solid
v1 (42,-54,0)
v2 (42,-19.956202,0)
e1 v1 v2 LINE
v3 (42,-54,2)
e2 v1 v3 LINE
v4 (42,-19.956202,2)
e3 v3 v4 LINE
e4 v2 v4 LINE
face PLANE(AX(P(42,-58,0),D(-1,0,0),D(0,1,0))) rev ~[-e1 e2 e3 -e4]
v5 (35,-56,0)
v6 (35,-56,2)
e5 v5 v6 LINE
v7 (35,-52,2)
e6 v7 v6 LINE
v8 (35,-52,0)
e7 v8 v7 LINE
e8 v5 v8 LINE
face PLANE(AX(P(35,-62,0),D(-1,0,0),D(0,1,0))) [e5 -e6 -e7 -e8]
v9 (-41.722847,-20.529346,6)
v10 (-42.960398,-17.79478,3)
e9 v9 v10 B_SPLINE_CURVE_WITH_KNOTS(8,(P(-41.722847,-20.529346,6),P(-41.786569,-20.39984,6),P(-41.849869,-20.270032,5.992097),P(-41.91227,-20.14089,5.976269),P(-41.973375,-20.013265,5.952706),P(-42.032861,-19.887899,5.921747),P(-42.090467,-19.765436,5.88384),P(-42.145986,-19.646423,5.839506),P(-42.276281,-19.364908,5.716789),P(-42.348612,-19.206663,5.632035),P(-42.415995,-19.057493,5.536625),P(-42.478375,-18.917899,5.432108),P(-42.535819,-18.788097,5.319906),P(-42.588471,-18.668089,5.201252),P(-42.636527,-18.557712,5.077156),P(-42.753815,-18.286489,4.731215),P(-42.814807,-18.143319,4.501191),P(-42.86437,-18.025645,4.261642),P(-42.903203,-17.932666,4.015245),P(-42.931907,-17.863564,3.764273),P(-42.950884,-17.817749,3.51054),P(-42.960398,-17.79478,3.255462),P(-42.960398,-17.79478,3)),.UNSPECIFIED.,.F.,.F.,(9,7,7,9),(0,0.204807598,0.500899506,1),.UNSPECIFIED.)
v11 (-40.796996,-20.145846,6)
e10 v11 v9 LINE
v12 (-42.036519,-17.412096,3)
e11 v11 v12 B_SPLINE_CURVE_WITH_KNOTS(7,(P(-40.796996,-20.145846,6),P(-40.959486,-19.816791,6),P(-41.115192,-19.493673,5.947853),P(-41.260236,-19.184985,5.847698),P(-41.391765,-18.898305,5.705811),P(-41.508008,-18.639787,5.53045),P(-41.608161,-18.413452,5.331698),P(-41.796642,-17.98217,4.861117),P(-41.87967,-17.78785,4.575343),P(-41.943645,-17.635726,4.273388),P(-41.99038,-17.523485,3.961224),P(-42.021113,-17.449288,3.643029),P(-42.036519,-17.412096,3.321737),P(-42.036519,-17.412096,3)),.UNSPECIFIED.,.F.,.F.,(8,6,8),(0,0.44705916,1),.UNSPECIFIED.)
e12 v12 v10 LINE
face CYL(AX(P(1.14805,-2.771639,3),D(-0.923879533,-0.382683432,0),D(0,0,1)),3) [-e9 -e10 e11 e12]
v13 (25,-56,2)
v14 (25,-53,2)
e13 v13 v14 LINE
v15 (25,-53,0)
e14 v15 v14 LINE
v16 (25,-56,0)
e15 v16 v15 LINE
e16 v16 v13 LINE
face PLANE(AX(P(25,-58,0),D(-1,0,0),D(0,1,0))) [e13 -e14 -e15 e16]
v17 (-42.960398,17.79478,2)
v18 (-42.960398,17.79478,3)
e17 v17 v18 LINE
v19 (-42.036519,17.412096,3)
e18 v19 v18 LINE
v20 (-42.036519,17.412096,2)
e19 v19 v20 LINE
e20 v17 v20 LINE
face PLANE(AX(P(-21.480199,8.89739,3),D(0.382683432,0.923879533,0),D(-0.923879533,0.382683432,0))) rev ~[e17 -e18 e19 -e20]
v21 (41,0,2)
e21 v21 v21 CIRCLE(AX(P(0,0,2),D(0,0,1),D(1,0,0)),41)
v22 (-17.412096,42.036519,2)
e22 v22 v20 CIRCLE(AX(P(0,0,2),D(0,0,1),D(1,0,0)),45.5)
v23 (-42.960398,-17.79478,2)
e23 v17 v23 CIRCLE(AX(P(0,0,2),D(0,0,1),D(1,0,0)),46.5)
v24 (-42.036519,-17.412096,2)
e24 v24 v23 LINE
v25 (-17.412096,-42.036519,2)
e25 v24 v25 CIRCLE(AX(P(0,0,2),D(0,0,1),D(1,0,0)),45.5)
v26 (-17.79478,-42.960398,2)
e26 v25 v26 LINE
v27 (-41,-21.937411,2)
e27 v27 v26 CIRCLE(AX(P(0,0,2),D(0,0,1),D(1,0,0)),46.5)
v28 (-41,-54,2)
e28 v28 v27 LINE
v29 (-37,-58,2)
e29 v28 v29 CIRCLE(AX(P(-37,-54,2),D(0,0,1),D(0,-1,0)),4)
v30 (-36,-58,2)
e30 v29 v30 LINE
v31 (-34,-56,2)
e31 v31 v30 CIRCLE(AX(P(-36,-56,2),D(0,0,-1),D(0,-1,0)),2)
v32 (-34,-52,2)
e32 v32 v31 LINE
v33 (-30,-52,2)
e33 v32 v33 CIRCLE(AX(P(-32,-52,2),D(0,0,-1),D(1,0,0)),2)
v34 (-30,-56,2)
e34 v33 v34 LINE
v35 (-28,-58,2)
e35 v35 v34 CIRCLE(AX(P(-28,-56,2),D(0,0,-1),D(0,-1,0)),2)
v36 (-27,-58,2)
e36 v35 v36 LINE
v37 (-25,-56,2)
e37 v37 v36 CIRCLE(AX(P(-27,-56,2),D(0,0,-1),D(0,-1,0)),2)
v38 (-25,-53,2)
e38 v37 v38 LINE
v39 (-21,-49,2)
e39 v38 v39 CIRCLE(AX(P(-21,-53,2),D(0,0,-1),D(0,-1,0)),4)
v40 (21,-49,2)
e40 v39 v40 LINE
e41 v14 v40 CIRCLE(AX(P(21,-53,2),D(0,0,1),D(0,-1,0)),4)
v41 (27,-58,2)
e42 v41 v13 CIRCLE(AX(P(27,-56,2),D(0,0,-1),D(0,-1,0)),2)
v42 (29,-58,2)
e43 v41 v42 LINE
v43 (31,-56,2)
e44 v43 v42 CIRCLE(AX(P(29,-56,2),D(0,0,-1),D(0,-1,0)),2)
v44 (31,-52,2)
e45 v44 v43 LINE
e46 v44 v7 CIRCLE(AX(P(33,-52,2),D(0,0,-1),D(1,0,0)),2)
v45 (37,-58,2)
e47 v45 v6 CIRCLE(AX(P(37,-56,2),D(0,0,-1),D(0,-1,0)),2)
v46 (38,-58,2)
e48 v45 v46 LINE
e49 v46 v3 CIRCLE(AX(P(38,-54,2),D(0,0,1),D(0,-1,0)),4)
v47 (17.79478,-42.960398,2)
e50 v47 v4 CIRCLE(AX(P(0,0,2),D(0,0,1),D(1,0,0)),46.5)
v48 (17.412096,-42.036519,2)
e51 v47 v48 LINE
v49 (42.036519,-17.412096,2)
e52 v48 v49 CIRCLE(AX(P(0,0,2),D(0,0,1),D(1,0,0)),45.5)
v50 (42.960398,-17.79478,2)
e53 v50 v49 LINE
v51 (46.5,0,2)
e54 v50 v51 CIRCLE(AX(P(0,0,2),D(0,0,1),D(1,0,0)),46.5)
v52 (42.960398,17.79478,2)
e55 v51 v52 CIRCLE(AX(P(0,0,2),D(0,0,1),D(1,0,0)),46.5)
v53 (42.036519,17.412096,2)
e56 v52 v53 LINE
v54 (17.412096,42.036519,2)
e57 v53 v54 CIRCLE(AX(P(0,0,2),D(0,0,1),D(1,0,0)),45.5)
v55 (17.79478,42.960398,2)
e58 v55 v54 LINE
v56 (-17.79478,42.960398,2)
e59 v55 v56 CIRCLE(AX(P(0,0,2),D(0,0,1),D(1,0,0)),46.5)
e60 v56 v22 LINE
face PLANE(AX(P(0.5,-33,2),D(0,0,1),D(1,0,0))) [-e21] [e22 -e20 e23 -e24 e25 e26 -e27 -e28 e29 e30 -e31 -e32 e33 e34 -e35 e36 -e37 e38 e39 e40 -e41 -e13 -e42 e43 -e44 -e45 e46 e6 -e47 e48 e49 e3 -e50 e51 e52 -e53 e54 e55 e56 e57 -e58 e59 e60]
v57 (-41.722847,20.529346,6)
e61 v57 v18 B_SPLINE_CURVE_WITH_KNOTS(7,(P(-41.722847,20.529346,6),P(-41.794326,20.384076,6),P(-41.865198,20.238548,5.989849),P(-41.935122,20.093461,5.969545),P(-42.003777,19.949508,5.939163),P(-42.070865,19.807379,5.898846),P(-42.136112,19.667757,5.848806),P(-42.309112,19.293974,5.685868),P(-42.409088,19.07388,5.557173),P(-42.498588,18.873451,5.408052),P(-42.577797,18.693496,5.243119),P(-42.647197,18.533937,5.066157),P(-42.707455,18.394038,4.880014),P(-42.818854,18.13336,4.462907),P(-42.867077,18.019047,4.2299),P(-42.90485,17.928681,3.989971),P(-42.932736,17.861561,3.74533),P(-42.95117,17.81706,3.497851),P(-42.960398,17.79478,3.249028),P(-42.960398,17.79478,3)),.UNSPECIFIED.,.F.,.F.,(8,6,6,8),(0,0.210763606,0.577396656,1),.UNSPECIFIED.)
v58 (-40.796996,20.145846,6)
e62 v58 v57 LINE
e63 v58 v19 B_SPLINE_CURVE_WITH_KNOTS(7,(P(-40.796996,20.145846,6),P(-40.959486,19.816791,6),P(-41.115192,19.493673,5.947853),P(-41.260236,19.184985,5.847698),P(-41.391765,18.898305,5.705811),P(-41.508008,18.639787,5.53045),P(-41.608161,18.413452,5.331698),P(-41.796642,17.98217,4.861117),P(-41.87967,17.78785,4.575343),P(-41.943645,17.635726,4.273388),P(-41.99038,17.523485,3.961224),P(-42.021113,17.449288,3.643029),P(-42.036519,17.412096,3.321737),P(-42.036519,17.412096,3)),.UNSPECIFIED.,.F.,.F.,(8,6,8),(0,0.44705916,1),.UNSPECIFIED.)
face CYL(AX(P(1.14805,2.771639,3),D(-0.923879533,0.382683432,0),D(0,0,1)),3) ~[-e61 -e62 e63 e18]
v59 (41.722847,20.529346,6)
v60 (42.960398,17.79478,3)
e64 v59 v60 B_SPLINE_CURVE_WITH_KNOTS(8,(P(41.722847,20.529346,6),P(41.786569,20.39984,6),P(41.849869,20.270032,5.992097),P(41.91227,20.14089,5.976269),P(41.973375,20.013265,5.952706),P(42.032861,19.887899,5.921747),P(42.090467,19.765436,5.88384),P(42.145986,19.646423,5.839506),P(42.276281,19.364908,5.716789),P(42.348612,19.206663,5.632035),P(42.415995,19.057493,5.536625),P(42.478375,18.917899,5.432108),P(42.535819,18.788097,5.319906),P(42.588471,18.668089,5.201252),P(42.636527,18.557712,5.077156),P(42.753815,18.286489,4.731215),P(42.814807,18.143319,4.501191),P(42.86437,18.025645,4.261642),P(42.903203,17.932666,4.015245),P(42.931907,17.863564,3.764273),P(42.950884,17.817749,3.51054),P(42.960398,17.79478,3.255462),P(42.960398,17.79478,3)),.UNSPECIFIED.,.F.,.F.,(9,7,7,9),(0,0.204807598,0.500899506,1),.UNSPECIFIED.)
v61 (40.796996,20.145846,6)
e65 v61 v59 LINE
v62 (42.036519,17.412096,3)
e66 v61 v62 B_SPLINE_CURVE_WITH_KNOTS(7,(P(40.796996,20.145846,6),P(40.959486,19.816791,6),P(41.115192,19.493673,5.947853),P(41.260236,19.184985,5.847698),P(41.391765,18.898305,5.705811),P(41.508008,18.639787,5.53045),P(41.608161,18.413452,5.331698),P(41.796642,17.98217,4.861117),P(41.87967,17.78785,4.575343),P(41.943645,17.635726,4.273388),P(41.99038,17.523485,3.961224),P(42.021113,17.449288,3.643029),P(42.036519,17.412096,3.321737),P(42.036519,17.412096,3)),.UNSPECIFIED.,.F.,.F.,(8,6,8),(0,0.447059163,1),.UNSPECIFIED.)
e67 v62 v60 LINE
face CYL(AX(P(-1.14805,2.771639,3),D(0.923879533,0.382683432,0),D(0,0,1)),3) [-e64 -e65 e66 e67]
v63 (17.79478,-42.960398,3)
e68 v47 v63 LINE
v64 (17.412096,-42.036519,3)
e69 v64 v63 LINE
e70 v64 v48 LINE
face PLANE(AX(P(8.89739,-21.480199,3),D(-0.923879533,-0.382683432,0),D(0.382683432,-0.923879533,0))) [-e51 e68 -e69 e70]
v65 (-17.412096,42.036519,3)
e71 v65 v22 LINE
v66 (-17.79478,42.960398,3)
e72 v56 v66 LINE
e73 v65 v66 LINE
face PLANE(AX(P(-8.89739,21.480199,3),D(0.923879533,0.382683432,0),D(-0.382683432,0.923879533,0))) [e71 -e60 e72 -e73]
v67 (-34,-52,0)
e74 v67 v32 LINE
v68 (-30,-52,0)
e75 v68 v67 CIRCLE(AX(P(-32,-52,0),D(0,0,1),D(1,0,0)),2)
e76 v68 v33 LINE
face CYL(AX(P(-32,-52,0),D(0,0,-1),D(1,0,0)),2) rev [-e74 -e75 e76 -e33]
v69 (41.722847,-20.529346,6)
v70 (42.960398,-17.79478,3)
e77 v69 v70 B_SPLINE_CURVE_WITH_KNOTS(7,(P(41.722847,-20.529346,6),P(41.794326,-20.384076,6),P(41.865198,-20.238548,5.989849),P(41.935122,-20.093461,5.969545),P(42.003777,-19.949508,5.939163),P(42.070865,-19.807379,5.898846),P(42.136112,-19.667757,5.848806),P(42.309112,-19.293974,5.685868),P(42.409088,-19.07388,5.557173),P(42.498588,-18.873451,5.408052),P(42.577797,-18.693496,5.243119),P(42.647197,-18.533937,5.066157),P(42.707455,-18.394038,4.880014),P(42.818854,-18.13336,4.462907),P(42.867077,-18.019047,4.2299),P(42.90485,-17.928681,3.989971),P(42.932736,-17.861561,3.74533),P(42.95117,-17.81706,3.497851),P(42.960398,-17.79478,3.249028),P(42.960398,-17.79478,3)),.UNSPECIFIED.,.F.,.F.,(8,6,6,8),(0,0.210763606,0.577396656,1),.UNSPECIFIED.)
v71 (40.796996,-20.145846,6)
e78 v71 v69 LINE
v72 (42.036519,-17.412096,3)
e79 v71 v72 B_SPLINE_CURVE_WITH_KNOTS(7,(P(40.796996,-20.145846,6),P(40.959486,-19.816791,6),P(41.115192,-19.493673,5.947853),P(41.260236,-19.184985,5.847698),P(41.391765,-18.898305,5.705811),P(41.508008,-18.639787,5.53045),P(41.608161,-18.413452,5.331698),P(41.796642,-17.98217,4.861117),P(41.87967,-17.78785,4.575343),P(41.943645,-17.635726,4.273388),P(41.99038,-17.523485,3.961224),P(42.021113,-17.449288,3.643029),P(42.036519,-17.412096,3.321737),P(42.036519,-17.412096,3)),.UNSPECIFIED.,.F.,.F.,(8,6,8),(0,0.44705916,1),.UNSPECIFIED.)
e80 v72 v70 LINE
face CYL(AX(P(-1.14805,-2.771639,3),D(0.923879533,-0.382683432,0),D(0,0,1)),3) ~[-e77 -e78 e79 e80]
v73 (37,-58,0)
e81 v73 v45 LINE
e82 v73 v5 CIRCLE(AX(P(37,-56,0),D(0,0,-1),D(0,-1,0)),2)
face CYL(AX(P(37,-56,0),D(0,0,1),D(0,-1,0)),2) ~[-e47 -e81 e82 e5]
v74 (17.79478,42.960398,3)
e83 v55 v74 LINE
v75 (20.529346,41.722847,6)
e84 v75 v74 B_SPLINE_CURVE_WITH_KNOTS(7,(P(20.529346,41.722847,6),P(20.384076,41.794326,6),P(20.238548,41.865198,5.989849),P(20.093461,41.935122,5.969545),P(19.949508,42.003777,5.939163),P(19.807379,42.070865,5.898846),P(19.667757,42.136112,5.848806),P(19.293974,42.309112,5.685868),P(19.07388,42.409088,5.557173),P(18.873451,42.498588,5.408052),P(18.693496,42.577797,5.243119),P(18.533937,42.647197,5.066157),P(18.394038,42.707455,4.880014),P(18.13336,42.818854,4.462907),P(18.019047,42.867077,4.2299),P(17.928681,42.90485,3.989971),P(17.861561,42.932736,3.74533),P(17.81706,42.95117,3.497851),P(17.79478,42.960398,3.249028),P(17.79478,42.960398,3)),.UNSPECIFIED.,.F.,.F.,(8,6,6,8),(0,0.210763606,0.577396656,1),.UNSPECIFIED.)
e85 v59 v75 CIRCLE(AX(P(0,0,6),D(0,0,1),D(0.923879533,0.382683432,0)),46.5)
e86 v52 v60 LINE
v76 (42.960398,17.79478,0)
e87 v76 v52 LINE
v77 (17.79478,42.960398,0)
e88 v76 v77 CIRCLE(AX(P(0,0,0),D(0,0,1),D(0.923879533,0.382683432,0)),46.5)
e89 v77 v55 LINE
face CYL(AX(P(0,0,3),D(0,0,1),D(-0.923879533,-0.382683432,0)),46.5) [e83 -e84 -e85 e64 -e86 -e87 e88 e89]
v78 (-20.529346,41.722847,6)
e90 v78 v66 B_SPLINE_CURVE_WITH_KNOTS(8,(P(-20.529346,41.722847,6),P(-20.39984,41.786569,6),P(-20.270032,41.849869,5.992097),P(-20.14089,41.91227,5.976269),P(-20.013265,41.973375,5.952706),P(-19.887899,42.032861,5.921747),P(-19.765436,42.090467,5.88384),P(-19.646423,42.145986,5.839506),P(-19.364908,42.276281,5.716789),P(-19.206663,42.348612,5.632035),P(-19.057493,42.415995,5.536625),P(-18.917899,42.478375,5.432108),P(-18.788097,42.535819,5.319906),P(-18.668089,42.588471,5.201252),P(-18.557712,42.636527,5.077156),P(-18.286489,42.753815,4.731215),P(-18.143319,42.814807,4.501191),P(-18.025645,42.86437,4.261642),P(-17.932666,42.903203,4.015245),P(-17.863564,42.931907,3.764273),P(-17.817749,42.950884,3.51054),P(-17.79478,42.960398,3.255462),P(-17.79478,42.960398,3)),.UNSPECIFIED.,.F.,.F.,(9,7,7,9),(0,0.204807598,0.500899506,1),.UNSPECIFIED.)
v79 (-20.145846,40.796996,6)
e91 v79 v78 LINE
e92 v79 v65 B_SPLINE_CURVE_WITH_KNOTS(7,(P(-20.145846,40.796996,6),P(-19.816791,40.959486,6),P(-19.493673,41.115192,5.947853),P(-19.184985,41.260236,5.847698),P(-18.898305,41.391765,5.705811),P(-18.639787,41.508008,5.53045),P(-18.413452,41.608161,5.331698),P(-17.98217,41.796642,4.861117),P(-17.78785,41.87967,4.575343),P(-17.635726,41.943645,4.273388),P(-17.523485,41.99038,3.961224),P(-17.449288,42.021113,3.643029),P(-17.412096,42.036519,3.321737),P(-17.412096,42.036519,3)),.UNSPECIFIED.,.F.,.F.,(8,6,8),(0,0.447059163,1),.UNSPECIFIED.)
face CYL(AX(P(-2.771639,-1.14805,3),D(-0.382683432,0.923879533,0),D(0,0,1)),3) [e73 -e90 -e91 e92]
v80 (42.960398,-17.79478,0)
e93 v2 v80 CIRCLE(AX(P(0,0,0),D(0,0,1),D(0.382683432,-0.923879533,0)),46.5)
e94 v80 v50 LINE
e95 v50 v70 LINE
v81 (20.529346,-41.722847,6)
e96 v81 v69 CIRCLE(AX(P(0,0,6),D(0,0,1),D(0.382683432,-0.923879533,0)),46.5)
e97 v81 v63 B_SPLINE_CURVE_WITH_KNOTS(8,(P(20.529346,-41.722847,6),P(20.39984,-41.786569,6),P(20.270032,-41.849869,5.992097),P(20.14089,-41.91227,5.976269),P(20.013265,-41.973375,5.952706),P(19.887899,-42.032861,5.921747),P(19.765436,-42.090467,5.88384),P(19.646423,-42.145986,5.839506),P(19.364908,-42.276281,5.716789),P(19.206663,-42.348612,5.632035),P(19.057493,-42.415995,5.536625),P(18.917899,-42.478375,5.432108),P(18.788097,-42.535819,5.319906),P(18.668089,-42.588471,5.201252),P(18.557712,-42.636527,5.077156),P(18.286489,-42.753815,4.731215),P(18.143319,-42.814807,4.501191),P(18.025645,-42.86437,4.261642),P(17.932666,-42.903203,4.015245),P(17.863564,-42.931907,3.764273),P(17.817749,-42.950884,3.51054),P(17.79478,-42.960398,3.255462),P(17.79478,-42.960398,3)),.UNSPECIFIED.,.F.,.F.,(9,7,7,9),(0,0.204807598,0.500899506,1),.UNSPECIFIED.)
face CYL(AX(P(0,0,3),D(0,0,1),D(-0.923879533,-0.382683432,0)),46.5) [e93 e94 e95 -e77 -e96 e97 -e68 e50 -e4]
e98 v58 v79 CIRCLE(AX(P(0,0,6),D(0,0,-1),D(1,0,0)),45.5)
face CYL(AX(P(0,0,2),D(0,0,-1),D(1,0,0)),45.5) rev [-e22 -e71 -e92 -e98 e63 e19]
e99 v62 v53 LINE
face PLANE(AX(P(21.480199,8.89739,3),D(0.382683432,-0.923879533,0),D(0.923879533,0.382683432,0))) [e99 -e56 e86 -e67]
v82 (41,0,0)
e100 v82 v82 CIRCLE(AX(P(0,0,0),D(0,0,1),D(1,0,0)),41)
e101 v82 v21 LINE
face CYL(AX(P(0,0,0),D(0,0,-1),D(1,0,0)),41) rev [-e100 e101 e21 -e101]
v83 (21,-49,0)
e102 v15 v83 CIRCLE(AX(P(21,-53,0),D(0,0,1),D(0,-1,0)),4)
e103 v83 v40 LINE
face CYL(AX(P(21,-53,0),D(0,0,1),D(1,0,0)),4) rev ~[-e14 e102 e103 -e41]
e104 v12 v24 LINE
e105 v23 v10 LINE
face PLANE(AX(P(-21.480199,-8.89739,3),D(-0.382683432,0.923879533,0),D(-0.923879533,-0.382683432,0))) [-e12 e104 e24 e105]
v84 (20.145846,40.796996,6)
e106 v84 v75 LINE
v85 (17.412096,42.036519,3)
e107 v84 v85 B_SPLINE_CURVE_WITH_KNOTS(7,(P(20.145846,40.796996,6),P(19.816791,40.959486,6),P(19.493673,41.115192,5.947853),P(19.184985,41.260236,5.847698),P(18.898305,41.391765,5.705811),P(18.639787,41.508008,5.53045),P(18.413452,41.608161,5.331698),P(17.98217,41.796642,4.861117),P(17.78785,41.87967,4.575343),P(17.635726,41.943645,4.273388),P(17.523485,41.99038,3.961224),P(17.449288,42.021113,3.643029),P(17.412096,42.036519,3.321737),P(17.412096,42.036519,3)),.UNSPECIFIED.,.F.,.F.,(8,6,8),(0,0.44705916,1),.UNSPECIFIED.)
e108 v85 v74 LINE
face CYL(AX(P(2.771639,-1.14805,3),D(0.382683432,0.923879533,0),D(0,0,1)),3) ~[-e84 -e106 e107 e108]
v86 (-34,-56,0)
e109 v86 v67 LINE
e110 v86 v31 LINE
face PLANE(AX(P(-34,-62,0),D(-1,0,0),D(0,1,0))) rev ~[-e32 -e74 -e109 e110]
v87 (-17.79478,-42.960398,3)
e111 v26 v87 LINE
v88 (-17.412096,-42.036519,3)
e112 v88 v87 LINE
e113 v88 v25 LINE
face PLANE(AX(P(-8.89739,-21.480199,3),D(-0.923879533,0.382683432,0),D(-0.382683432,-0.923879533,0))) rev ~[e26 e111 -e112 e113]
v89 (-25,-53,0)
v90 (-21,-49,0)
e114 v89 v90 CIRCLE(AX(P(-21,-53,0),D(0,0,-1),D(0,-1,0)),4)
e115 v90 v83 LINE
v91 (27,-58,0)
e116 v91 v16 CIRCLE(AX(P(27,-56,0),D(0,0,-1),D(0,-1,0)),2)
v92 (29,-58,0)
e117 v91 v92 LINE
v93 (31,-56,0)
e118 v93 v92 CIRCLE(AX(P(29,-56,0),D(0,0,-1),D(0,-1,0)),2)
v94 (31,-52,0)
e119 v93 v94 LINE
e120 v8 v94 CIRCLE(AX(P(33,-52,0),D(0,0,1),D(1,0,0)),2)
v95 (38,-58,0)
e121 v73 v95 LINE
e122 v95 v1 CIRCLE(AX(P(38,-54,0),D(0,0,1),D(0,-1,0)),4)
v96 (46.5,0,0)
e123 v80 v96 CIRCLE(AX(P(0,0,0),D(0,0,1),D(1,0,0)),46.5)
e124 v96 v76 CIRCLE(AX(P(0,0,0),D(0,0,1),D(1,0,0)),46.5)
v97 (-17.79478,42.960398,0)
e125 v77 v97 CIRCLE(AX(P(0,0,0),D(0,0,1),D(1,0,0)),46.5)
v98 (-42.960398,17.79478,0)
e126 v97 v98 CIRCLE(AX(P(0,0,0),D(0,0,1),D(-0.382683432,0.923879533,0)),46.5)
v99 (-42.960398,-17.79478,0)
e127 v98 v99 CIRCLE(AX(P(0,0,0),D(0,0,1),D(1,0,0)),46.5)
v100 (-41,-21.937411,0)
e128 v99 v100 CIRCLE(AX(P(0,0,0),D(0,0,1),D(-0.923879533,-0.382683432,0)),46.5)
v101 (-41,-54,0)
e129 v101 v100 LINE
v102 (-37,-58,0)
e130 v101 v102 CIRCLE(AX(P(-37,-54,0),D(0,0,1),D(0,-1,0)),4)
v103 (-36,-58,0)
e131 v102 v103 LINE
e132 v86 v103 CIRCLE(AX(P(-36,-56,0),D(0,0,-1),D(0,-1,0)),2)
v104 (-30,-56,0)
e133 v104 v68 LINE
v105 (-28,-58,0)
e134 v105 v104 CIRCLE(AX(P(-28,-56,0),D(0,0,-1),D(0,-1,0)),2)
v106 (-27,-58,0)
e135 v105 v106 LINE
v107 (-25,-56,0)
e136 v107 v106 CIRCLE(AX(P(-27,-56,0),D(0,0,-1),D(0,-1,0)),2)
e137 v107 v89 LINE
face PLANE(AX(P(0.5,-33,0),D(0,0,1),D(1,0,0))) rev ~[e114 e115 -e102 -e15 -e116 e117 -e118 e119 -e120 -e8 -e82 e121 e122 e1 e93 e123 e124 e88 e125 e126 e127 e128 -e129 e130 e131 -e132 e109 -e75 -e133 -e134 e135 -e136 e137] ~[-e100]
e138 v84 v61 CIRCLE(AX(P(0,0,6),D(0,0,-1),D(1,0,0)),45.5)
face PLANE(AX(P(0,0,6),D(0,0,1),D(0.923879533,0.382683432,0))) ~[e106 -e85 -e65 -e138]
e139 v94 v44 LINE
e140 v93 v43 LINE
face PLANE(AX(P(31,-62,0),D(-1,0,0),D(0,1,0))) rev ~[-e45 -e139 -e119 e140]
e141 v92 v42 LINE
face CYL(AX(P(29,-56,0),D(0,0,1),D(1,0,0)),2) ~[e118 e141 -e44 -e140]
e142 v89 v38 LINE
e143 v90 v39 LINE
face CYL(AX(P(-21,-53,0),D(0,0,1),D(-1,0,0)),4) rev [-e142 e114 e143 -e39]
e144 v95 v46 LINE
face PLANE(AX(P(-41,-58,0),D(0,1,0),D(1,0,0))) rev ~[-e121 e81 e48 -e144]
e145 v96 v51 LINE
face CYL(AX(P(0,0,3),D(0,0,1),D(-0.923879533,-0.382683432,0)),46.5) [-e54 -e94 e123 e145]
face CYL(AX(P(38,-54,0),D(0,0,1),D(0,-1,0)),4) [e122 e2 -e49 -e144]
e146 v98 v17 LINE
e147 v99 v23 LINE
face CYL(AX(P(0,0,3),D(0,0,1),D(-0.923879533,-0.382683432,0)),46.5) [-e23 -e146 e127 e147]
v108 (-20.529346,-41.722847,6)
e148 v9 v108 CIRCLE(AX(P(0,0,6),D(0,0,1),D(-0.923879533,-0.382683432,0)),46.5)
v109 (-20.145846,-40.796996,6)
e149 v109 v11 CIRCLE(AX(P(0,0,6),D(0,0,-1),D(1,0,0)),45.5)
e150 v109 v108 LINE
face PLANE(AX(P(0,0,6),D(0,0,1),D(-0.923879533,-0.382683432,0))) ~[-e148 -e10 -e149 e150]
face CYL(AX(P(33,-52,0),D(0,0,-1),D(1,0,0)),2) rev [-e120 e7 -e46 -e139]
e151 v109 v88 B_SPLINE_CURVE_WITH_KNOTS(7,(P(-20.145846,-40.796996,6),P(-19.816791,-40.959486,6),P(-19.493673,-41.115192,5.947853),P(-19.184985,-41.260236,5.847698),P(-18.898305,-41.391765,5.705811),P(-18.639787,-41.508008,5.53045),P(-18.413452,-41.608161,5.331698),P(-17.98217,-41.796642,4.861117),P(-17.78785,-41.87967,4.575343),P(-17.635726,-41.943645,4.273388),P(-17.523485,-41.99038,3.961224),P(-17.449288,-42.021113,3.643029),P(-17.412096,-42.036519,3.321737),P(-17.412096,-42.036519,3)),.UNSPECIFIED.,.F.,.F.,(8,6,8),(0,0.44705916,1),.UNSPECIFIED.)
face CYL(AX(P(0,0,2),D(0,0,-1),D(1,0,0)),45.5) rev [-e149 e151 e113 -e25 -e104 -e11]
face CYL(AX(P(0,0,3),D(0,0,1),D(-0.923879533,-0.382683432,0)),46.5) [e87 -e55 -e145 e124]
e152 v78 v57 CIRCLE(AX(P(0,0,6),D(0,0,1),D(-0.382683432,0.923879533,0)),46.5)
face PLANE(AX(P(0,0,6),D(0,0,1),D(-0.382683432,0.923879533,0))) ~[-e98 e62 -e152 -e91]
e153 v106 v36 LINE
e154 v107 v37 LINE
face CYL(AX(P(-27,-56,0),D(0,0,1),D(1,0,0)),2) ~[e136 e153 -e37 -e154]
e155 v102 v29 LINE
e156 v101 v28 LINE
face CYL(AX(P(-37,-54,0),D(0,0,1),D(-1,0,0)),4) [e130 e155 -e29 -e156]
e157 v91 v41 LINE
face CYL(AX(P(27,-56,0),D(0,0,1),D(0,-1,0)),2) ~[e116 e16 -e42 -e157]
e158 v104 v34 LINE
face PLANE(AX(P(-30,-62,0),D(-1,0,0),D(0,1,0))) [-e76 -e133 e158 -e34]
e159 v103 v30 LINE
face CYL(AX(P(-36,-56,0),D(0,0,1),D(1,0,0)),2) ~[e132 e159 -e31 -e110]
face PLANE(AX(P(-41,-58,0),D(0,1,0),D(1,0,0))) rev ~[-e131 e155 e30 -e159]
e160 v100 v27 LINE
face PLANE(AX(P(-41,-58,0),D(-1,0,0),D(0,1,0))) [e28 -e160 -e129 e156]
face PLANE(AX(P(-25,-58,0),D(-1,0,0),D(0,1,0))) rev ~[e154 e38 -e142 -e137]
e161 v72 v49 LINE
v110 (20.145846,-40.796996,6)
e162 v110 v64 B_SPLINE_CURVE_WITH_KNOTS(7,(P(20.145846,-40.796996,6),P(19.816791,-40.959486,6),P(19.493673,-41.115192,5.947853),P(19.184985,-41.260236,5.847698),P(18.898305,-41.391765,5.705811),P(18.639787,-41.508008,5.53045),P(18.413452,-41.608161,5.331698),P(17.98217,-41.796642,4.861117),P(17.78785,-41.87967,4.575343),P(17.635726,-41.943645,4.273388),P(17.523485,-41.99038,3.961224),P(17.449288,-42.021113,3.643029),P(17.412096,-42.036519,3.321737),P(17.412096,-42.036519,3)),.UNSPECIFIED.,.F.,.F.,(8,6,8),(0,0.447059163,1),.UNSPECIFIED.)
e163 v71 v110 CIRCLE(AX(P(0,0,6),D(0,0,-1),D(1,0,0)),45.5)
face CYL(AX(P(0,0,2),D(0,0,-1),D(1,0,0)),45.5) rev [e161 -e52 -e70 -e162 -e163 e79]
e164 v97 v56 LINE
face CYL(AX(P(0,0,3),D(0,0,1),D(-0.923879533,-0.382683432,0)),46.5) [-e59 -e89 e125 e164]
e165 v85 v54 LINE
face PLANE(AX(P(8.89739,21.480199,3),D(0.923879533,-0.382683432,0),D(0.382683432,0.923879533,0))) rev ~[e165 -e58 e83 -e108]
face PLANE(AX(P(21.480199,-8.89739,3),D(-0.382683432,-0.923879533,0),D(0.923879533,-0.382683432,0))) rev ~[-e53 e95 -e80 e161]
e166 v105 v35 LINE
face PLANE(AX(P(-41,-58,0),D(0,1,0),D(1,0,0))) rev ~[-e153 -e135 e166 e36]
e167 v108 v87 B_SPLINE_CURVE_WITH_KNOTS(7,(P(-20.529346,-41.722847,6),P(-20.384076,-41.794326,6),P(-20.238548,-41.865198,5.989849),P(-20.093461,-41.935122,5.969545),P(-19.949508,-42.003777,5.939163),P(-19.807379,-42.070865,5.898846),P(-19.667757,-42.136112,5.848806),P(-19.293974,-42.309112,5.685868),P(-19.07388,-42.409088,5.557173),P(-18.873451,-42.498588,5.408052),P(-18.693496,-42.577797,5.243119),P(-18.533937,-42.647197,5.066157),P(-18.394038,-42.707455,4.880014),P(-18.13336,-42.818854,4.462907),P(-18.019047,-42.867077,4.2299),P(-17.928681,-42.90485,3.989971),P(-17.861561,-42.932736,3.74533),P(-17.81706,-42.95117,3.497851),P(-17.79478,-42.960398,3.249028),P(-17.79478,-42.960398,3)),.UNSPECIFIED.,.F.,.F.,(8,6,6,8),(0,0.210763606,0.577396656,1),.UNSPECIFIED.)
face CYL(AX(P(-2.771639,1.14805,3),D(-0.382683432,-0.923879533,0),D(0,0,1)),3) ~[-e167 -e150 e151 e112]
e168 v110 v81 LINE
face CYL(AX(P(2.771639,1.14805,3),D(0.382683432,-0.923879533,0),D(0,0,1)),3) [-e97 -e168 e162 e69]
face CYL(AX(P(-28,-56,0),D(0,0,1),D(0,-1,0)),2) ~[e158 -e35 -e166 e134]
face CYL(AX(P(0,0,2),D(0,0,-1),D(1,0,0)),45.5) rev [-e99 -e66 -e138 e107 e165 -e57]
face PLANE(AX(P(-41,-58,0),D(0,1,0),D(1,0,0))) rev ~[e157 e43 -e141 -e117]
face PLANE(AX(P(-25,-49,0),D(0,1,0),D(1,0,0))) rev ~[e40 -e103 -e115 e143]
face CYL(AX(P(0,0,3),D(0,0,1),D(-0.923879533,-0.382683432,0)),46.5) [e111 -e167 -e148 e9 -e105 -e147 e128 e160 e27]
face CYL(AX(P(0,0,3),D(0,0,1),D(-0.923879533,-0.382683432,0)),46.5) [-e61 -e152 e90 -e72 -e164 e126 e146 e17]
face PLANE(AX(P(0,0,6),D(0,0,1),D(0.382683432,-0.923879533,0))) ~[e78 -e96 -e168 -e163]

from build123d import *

# Parameters (mm, degrees)
CYLINDER002_R            = 41
CYLINDER002_DEPTH        = 10
CYLINDER001_R            = 45.5
CYLINDER001_DEPTH        = 10
CYLINDER004_R            = 46.5
CYLINDER004_DEPTH        = 2
BOX002_W                 = 50
BOX002_H                 = 9
BOX002_DEPTH             = 2
FILLET_R                 = 4
CYLINDER003_R            = 2
CYLINDER003_DEPTH        = 10
ARRAY_X_COUNT            = 2
ARRAY_X_PITCH            = 65
ARRAY_Y_COUNT            = 2
ARRAY_Y_PITCH            = 10
BOX001_W                 = 4
BOX001_H                 = 10
BOX001_DEPTH             = 10
ARRAY001_X_COUNT         = 2
ARRAY001_X_PITCH         = 65
BOX_W                    = 83
BOX_H                    = 50
BOX_DEPTH                = 2
FILLET001_R              = 4
FILLET004_R              = 2
CYLINDER_W               = 46.5
CYLINDER_H               = 6
CYLINDER_ANGLE           = 45
FILLET003_R              = 3
ARRAY002_COUNT           = 4
ARRAY002_PLACEMENT_ANGLE = 22.5


with BuildPart() as hole_cylinder:
    # Cylinder002 → Cylinder002 (new body)
    with BuildSketch(Plane.XY):
        Circle(CYLINDER002_R)
    extrude(amount=CYLINDER002_DEPTH)


with BuildPart() as extract_fusion:
    # Cylinder001 → Cylinder001 (new body)
    with BuildSketch(Plane.XY.offset(2)):
        Circle(CYLINDER001_R)
    extrude(amount=CYLINDER001_DEPTH)

    # Fusion001: union hole cylinder
    add(hole_cylinder.part)


with BuildPart() as outer_cylinder:
    # Cylinder004 → Cylinder004 (new body)
    with BuildSketch(Plane.XY):
        Circle(CYLINDER004_R)
    extrude(amount=CYLINDER004_DEPTH)


with BuildPart() as fillet_body:
    # Box002 → Box002 (new body)
    with BuildSketch(Plane(origin=(-25, -58, 0), x_dir=(1, 0, 0), z_dir=(0, 0, 1))):
        with Locations((25, 4.5)):
            Rectangle(BOX002_W, BOX002_H)
    extrude(amount=BOX002_DEPTH)

    # Fillet
    fillet_edges = [fillet_body.edges().sort_by_distance(p)[0] for p in [
        (-25, -49, 1),
        (25, -49, 1),
    ]]
    fillet(fillet_edges, radius=FILLET_R)


with BuildPart() as hole_array:
    # Cylinder003 → Cylinder003 (new body)
    with BuildSketch(Plane.XY):
        Circle(CYLINDER003_R)
    extrude(amount=CYLINDER003_DEPTH)

    # Array X: hole array ×2


with BuildPart() as hole_array_1:
    add(hole_array.part)
    with Locations(*[(i * ARRAY_X_PITCH, 0, 0) for i in range(1, ARRAY_X_COUNT)]):
        add(hole_array.part)

    # Array Y: hole array ×2


with BuildPart() as hole_array_2:
    add(hole_array_1.part)
    with Locations(*[(0, i * ARRAY_Y_PITCH, 0) for i in range(1, ARRAY_Y_COUNT)]):
        add(hole_array_1.part)


with BuildPart() as fusion003:
    # Box001 → Box001 (new body)
    with BuildSketch(Plane(origin=(-2, 0, 0), x_dir=(1, 0, 0), z_dir=(0, 0, 1))):
        with Locations((2, 5)):
            Rectangle(BOX001_W, BOX001_H)
    extrude(amount=BOX001_DEPTH)

    # Array001 X: Fusion003 ×2


with BuildPart() as fusion003_1:
    add(fusion003.part)
    with Locations(*[(i * ARRAY001_X_PITCH, 0, 0) for i in range(1, ARRAY001_X_COUNT)]):
        add(fusion003.part)

    # Fusion002: union hole array
    add(hole_array_2.part)


with BuildPart() as fusion003_2:
    # Fusion002 placement: moved
    add(fusion003_1.part.moved(Location((-32, -62, 0))))

    # Fusion003: union Fillet body
    add(fillet_body.part)


with BuildPart() as fillet004:
    # Box → Box (new body)
    with BuildSketch(Plane(origin=(-41, -58, 0), x_dir=(1, 0, 0), z_dir=(0, 0, 1))):
        with Locations((41.5, 25)):
            Rectangle(BOX_W, BOX_H)
    extrude(amount=BOX_DEPTH)

    # Fillet001
    fillet001_edges = [fillet004.edges().sort_by_distance(p)[0] for p in [
        (-41, -58, 1),
        (42, -58, 1),
    ]]
    fillet(fillet001_edges, radius=FILLET001_R)

    # Cut001: cut Fusion003
    add(fusion003_2.part, mode=Mode.SUBTRACT)

    # Fillet004
    fillet004_edges = [fillet004.edges().sort_by_distance(p)[0] for p in [
        (35, -58, 1),
        (31, -58, 1),
        (25, -58, 1),
        (-25, -58, 1),
        (-30, -58, 1),
        (-34, -58, 1),
    ]]
    fillet(fillet004_edges, radius=FILLET004_R)


with BuildPart() as petri_dish_microsoft_holder:
    # Cylinder → Cylinder (revolve)
    with BuildSketch(Plane.XZ):
        with Locations((23.25, 3)):
            Rectangle(CYLINDER_W, CYLINDER_H)
    revolve(axis=Axis((0, 0, 0), (0, 0, 1)), revolution_arc=CYLINDER_ANGLE)

    # Fillet003
    fillet003_edges = [petri_dish_microsoft_holder.edges().sort_by_distance(p)[0] for p in [
        (23.25, 0, 6),
        (16.440233, 16.440233, 6),
    ]]
    fillet(fillet003_edges, radius=FILLET003_R)

    # Array002: petri dish microsoft holder ×4 about axis
    array002_axis = Axis((0, 0, 0), (0, 0, 1))


with BuildPart() as petri_dish_microsoft_holder_1:
    add(petri_dish_microsoft_holder.part)
    for i in range(1, ARRAY002_COUNT):
        add(petri_dish_microsoft_holder.part.rotate(array002_axis, i * 360 / ARRAY002_COUNT))


with BuildPart() as petri_dish_microsoft_holder_2:
    # Array002 placement: moved
    add(petri_dish_microsoft_holder_1.part.rotate(Axis((0, 0, 0), (0, 0, 1)), ARRAY002_PLACEMENT_ANGLE))

    # Fusion: union outer cylinder, Fillet004
    add(outer_cylinder.part)
    add(fillet004.part)

    # Cut: cut extract fusion
    add(extract_fusion.part, mode=Mode.SUBTRACT)


solid = petri_dish_microsoft_holder_2.part
